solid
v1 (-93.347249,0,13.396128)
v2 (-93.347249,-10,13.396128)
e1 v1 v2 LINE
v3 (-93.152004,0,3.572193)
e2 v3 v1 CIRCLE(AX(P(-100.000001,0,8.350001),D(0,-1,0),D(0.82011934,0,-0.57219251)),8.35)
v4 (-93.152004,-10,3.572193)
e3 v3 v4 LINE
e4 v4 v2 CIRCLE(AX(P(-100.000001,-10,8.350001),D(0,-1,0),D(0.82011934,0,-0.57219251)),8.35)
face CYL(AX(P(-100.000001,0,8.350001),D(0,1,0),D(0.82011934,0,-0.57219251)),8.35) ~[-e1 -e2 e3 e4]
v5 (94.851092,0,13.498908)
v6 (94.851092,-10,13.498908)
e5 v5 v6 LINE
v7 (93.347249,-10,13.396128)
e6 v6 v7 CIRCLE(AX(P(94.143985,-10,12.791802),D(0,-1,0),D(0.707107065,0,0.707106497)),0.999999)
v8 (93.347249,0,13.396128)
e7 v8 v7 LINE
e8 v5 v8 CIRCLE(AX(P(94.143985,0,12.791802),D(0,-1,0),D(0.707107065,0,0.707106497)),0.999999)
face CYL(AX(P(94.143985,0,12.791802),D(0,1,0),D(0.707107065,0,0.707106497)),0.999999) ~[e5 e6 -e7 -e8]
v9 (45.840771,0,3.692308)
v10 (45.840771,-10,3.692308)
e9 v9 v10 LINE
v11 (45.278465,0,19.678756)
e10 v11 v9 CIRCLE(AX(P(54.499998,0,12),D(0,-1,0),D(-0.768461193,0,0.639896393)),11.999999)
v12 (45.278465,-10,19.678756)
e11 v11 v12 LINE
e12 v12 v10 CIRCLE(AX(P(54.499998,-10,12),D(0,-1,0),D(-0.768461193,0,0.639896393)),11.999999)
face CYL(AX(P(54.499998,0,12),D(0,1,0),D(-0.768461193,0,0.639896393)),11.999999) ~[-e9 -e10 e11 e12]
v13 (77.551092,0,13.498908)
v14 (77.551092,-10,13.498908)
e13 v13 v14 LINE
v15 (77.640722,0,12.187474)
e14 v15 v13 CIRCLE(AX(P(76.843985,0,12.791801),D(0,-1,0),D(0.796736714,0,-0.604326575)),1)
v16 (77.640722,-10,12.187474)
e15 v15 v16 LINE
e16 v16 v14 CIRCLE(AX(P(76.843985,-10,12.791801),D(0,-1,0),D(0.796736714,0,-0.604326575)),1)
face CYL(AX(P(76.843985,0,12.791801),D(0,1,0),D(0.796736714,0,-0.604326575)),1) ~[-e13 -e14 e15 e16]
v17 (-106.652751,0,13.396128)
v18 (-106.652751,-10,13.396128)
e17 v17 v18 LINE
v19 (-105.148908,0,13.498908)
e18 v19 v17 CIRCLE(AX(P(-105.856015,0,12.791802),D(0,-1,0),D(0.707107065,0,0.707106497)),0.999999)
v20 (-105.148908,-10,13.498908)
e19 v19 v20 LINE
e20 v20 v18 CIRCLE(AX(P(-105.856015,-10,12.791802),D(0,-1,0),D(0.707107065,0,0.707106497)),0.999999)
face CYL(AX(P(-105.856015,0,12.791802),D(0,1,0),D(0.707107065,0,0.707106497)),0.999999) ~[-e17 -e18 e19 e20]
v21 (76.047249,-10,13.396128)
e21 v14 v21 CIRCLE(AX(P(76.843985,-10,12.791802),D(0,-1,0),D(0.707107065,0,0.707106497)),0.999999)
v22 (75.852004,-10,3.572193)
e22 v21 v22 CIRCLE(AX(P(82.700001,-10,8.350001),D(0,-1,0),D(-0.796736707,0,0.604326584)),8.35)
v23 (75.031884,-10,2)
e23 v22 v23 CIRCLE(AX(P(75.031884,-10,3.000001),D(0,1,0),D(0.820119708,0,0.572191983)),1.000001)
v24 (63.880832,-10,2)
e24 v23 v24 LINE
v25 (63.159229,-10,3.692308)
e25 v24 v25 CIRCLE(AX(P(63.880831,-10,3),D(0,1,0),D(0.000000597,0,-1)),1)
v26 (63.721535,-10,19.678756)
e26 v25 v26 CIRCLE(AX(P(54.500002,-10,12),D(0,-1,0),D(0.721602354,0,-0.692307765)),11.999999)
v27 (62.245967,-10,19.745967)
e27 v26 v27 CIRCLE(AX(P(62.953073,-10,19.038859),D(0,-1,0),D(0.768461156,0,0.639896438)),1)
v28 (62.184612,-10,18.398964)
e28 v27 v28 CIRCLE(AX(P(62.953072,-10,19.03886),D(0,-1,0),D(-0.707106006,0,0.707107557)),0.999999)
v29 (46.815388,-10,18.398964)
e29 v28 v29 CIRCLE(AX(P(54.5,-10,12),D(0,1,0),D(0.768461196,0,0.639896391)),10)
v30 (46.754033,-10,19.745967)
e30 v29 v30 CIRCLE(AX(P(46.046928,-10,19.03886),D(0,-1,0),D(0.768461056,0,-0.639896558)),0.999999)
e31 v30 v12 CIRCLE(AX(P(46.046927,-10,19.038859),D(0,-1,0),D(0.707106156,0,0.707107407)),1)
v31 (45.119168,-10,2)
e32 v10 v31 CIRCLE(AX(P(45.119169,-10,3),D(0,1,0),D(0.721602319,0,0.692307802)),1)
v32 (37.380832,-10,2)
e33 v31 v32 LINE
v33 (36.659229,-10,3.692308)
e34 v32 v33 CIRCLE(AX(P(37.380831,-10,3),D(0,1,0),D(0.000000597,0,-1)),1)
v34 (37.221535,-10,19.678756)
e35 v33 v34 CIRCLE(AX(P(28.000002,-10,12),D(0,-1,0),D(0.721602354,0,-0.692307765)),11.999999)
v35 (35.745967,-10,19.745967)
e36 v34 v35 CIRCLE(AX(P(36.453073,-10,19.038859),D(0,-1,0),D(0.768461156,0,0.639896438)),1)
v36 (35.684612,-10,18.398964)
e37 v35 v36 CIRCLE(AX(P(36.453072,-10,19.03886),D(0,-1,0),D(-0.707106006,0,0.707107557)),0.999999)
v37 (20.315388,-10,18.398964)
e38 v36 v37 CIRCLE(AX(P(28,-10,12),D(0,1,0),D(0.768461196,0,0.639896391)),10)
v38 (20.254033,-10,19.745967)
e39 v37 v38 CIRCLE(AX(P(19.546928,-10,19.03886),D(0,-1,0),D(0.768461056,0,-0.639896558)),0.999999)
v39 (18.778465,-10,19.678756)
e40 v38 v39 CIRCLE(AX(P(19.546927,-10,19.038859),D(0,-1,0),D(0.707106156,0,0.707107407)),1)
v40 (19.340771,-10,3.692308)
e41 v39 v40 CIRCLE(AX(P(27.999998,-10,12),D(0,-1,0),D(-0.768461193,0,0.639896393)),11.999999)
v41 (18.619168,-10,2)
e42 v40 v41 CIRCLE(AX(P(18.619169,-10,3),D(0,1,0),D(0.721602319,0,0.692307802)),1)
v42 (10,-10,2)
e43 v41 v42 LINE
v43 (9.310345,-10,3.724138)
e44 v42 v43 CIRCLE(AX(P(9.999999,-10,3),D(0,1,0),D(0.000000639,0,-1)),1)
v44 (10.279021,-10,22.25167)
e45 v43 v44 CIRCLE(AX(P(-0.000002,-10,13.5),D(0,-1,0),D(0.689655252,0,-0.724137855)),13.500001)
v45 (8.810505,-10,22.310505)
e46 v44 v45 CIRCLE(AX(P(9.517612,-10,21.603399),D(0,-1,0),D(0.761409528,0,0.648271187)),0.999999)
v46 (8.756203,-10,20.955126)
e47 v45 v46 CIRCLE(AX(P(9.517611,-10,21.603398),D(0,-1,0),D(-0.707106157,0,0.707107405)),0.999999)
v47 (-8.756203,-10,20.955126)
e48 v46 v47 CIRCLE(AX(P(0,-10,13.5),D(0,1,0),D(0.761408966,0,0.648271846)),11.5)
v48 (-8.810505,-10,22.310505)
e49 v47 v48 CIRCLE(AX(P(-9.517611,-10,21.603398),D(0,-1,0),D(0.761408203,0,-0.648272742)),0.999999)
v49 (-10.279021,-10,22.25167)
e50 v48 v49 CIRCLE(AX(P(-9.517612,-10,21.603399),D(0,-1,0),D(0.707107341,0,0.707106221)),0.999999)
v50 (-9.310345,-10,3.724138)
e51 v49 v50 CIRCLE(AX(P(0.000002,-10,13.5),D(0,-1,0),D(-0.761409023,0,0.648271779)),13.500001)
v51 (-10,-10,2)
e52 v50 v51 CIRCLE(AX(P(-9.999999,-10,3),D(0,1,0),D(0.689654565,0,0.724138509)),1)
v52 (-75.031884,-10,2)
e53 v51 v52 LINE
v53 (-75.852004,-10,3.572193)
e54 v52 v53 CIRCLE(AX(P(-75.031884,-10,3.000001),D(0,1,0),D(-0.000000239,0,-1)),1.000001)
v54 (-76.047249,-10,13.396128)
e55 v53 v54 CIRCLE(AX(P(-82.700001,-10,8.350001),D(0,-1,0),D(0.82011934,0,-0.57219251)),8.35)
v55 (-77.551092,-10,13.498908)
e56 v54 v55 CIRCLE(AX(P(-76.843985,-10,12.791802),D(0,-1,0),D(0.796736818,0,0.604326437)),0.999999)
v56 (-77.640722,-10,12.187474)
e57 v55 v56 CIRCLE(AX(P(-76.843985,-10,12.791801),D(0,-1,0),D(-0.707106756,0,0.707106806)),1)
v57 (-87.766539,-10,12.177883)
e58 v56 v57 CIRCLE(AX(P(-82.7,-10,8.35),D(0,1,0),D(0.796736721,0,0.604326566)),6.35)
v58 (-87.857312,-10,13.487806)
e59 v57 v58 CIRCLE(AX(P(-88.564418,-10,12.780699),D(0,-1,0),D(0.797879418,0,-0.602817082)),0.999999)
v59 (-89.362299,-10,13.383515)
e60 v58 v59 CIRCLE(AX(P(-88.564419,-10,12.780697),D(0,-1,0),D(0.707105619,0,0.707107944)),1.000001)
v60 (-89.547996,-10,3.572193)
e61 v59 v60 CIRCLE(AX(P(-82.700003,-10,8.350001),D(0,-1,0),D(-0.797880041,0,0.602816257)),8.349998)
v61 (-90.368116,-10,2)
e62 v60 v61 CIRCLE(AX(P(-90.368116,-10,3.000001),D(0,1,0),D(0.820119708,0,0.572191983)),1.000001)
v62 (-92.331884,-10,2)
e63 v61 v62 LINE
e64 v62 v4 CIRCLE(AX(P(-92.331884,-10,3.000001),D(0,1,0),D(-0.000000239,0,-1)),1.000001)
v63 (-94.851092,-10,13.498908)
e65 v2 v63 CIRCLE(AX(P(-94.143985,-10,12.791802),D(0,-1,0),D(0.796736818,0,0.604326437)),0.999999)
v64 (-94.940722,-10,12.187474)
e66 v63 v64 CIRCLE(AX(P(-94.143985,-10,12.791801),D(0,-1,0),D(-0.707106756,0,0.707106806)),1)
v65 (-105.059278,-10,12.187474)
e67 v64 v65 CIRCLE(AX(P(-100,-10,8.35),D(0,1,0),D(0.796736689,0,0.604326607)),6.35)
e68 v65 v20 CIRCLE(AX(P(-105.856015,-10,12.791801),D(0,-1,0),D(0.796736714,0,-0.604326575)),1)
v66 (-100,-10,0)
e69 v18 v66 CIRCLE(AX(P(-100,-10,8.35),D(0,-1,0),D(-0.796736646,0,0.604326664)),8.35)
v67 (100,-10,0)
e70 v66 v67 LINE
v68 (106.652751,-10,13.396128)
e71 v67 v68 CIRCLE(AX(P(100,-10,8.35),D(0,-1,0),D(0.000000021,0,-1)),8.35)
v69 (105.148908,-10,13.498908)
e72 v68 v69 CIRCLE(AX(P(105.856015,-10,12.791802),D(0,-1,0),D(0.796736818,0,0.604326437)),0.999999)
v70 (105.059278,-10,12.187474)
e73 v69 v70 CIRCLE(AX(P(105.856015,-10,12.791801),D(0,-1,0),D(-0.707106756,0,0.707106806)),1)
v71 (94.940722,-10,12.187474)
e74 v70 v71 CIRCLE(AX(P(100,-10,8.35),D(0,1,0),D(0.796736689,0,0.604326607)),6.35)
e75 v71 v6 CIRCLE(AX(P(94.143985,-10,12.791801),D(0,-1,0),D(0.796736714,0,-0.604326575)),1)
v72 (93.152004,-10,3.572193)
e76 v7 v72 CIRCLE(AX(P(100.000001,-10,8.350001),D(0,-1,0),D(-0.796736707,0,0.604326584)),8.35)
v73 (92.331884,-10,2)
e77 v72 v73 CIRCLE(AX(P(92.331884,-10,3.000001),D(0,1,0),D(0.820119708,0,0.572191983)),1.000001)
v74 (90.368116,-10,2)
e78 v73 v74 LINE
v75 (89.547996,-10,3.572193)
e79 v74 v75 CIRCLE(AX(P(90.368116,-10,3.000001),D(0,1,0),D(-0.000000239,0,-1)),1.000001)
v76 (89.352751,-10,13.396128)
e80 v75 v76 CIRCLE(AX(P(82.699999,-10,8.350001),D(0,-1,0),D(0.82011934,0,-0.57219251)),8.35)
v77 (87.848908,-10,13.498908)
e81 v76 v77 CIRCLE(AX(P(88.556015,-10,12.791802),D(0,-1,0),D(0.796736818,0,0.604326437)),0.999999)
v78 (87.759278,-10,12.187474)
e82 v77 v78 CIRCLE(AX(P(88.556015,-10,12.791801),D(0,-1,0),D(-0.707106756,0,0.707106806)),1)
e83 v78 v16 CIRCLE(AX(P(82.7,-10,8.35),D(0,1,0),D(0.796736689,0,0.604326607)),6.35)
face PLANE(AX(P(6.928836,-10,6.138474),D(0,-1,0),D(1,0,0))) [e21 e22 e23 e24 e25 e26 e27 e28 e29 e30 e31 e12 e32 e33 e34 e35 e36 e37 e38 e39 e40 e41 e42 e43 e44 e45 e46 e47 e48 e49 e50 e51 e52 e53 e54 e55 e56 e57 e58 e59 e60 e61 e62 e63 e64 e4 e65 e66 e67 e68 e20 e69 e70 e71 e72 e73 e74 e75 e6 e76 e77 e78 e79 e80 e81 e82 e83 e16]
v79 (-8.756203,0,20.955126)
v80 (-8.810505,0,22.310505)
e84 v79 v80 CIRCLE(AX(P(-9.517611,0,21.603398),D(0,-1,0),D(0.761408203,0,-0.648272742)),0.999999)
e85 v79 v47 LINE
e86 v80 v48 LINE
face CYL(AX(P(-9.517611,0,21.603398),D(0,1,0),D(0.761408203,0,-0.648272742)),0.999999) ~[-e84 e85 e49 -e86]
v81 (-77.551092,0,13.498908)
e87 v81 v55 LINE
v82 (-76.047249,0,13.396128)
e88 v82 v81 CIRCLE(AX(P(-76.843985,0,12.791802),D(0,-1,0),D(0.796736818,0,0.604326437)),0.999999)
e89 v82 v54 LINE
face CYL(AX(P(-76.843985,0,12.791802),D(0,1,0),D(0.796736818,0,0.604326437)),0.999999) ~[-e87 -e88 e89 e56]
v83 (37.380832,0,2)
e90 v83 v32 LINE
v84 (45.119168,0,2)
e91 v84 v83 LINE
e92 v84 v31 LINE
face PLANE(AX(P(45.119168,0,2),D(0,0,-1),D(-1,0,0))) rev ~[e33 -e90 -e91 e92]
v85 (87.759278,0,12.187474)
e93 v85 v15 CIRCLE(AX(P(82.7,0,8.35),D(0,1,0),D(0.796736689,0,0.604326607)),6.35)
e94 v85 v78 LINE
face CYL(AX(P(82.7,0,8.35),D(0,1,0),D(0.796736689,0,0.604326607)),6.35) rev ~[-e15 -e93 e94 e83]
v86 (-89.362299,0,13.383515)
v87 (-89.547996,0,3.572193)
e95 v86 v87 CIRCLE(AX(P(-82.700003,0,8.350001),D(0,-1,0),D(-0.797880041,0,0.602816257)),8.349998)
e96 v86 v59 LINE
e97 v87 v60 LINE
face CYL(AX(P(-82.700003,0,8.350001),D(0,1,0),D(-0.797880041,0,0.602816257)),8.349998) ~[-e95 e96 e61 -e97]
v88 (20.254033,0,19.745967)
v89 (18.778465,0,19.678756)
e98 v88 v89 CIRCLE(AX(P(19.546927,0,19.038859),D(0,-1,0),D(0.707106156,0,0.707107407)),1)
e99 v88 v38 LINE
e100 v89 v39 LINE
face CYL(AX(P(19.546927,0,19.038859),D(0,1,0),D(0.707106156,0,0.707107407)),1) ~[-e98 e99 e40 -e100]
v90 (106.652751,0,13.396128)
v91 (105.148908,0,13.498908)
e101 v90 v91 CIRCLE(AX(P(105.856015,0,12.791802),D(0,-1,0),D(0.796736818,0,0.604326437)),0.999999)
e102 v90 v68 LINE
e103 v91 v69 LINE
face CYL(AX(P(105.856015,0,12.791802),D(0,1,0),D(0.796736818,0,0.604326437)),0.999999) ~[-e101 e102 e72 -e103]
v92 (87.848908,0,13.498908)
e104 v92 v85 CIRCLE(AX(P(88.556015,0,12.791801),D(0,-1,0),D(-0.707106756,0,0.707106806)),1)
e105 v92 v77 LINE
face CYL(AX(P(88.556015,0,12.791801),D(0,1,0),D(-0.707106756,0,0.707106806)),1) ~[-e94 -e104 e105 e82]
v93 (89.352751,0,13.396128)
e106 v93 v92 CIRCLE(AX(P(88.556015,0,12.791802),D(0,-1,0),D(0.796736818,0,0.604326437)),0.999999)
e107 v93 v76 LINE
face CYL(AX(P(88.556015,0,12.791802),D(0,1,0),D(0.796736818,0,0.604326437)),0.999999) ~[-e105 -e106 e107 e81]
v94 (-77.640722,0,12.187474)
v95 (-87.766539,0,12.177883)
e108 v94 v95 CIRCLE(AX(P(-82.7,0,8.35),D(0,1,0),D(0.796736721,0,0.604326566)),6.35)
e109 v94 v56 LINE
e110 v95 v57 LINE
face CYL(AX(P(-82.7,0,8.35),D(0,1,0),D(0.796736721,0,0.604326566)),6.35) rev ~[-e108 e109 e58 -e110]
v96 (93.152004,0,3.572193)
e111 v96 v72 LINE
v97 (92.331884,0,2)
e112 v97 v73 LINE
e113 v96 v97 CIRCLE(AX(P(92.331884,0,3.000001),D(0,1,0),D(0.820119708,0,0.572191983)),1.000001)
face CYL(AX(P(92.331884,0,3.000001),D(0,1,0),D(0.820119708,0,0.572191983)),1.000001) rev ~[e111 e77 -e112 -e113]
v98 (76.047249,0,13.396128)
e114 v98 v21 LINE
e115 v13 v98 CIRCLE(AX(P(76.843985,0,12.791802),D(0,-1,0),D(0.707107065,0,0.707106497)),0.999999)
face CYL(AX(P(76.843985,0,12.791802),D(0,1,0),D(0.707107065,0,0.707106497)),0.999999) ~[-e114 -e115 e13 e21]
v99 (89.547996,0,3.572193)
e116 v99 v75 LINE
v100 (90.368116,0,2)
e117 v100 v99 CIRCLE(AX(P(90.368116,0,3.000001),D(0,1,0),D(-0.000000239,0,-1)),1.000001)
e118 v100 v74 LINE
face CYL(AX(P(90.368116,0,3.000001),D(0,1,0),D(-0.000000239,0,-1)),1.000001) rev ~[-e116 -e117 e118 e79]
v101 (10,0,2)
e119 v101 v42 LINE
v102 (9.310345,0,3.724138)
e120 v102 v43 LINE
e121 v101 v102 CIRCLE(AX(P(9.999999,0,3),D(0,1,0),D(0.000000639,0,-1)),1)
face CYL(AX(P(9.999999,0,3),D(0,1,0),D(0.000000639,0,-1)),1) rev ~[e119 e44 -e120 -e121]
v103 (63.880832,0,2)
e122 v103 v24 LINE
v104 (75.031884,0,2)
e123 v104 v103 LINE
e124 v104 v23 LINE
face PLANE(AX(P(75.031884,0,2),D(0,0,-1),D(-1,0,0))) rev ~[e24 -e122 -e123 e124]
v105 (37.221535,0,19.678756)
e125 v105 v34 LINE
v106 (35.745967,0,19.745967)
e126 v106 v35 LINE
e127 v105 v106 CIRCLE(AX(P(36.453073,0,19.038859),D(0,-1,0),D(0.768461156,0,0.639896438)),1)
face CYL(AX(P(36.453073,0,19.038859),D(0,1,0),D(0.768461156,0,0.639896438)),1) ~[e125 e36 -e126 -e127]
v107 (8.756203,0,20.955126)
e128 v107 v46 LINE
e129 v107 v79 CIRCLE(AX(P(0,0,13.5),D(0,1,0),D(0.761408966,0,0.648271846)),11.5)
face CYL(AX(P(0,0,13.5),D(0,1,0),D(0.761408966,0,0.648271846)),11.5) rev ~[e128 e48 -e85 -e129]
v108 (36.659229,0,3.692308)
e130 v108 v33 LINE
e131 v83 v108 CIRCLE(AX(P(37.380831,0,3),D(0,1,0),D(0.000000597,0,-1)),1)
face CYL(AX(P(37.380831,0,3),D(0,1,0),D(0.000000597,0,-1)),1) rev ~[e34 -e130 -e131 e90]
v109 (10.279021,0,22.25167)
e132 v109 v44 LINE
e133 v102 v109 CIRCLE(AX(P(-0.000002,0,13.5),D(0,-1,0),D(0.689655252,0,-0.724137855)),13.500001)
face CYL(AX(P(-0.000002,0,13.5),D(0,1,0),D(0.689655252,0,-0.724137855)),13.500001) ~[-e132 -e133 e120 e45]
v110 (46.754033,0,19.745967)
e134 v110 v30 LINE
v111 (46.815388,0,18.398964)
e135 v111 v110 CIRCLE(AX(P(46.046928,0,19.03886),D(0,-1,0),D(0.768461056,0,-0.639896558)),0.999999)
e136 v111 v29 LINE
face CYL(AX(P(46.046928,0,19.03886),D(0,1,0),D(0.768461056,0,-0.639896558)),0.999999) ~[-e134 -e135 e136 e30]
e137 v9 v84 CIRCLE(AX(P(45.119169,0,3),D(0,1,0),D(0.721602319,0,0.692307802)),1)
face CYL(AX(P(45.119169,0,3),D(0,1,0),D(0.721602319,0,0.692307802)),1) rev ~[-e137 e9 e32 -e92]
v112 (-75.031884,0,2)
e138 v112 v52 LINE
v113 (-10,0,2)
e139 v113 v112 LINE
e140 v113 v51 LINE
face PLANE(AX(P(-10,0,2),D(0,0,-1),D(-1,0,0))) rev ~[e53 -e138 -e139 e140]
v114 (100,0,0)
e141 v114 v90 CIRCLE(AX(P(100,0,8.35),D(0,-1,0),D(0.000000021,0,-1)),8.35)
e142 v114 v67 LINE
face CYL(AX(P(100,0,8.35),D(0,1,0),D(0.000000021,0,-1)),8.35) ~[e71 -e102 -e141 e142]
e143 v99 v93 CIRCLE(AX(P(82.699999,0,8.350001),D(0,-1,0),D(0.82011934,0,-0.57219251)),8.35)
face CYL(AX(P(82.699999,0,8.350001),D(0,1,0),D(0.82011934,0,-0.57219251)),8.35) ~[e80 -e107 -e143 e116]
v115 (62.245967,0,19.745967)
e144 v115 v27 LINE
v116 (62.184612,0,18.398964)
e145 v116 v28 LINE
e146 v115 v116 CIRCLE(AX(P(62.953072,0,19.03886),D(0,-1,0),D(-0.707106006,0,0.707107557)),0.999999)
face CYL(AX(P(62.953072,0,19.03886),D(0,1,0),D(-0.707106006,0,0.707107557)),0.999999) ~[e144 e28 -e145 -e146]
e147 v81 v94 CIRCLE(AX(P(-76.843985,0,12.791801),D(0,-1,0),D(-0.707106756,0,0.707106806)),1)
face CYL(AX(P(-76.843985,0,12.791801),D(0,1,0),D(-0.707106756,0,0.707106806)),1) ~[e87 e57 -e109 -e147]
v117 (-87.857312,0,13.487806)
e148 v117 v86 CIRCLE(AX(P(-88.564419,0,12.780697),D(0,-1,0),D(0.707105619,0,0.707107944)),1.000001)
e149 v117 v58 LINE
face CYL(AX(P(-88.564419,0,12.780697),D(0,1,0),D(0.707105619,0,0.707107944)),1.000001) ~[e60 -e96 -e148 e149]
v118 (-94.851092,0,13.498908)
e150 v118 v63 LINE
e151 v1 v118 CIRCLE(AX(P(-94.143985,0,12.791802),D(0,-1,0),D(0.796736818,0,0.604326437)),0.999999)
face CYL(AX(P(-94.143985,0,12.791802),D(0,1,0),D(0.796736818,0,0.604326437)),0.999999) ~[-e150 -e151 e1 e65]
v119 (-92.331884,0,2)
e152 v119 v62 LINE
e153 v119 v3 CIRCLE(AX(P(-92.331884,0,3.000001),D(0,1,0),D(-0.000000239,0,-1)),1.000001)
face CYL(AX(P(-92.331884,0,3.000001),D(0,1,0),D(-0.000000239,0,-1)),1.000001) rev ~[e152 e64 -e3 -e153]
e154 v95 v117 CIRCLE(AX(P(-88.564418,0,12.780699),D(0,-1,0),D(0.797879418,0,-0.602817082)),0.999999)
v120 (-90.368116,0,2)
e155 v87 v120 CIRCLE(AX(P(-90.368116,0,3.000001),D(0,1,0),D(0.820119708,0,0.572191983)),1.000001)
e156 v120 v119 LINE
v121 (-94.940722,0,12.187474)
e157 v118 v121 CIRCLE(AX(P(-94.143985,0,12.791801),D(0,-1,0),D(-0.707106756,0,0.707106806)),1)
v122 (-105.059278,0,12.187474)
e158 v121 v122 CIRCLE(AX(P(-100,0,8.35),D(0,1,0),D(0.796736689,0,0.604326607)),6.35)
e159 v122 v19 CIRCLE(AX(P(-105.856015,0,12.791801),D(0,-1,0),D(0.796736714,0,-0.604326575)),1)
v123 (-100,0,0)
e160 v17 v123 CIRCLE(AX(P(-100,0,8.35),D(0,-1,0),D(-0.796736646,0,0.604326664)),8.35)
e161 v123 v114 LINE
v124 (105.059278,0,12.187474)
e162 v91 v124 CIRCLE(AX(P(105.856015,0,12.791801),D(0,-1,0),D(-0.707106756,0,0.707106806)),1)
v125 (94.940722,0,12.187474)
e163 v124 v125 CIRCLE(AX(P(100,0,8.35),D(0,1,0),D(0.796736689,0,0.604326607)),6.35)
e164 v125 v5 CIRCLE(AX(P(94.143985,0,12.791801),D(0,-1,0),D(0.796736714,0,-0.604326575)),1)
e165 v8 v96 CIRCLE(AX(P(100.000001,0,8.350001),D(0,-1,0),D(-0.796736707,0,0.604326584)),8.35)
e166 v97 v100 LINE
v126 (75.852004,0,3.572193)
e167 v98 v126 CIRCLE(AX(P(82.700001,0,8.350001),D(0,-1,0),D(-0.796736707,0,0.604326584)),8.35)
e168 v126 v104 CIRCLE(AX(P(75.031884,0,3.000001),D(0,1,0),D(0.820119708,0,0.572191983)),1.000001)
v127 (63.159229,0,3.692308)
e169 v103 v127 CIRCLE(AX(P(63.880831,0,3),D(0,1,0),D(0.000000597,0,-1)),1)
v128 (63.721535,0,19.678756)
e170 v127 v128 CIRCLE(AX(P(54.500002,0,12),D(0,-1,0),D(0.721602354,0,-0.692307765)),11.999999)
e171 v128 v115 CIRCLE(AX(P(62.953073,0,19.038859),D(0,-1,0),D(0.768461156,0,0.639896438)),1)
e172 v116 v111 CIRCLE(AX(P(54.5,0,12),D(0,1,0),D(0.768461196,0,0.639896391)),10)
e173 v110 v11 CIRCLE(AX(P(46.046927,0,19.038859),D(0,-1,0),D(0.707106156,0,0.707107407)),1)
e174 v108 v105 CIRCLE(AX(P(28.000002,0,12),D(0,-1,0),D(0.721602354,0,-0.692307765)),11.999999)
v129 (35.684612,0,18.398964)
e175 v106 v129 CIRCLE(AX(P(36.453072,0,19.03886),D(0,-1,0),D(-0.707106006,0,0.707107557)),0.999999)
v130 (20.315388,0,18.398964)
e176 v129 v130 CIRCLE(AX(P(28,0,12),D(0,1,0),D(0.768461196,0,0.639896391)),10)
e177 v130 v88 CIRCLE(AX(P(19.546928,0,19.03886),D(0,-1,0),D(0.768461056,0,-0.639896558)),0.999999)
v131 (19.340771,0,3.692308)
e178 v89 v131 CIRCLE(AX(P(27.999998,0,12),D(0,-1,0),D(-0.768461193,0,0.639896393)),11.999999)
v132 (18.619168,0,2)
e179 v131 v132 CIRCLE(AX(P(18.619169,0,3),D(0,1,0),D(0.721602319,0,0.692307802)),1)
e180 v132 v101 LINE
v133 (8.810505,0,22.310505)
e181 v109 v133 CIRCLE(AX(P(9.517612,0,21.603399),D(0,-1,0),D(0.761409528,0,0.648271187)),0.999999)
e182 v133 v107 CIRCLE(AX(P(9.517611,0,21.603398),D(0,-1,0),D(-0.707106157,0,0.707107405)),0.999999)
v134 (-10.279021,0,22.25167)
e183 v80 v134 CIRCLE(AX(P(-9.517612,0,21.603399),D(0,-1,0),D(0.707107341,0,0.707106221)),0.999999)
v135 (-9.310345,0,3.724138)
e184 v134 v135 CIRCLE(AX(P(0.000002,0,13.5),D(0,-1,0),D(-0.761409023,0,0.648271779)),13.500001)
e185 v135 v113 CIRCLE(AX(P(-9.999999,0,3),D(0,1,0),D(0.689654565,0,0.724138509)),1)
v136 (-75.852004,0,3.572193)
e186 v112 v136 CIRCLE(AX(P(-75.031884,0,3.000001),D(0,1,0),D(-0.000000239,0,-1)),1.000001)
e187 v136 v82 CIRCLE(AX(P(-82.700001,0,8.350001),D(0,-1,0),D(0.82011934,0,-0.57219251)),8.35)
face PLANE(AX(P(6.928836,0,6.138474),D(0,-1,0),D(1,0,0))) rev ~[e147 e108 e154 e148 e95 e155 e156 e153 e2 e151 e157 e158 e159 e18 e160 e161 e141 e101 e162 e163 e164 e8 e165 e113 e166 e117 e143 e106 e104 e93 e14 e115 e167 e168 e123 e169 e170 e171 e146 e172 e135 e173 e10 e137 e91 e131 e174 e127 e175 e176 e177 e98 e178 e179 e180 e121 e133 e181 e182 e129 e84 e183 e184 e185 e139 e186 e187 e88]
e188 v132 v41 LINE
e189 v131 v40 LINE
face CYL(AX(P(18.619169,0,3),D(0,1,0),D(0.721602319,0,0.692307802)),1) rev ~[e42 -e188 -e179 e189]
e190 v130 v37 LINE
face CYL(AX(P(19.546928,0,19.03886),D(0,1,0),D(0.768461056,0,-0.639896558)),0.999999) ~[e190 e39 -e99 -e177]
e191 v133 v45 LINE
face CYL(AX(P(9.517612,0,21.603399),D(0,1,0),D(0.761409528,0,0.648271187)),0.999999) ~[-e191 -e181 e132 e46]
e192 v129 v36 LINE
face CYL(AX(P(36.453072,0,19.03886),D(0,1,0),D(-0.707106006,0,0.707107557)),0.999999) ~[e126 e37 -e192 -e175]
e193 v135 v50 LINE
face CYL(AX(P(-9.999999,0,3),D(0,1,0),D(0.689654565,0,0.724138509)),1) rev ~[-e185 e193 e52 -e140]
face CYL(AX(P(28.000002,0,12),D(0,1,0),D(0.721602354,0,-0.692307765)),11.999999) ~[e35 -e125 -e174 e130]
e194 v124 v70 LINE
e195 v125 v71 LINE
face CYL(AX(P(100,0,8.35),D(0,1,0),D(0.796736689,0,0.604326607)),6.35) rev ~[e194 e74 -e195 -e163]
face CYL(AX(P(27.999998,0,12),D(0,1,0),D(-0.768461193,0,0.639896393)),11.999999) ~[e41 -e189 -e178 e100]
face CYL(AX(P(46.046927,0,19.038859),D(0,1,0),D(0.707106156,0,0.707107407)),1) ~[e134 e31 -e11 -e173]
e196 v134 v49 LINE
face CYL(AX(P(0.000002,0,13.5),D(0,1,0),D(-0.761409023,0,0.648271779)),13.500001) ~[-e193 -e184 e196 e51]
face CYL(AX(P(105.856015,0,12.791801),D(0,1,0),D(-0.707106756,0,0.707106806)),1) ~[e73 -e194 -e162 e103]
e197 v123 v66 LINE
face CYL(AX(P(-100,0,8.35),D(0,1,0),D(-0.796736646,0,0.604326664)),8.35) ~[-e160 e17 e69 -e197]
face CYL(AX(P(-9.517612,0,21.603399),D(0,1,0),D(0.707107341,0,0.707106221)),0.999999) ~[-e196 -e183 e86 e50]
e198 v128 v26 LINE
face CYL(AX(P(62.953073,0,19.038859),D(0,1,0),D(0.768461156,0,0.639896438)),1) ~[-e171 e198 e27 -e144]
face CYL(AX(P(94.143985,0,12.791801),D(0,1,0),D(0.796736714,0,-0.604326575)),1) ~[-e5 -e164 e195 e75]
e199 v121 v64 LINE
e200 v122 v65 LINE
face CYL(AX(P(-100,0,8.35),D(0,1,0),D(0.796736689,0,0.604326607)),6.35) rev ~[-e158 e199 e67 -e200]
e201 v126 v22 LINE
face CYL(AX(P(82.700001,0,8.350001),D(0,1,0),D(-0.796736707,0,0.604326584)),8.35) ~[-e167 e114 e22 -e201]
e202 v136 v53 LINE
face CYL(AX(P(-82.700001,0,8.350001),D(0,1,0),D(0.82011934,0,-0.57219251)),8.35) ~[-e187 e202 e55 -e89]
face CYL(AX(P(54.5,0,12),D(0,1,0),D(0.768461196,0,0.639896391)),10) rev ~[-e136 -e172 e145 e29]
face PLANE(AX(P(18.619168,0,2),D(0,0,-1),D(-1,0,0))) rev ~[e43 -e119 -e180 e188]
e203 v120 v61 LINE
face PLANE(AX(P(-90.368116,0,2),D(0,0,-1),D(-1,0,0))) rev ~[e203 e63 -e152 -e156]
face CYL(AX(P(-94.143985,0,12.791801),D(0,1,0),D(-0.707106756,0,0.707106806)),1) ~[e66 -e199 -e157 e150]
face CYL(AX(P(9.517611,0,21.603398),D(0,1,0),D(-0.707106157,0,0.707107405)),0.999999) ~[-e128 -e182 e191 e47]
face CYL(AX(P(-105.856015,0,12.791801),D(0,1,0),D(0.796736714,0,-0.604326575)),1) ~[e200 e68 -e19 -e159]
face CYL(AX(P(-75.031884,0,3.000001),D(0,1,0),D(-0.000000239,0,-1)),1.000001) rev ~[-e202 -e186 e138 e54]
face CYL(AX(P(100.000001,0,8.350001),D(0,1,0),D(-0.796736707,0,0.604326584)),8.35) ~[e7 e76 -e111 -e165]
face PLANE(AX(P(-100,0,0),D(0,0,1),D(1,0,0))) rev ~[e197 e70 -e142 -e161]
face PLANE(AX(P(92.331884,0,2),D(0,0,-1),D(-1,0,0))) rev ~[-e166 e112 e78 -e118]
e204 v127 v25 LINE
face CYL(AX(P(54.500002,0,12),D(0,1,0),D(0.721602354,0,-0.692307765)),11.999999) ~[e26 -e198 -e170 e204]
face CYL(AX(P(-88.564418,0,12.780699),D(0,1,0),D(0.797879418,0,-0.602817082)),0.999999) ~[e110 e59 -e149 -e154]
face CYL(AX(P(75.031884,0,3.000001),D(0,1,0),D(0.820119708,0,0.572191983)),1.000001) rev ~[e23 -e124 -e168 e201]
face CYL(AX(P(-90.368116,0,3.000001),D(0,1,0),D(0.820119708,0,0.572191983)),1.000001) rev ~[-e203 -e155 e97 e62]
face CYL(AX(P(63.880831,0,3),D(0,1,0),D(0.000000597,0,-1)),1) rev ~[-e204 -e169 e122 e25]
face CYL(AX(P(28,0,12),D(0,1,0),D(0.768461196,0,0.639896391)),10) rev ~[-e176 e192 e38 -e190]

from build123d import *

# Parameters (mm, degrees)
F1_DEPTH = 10


with BuildPart() as f1:
    # F0 (on Front) → F1 (new body)
    with BuildSketch(Plane.XZ):
        with BuildLine():
            Line((-100, 0), (0, 0))
            Line((0, 0), (100, 0))
            ThreePointArc((100, 0), (107.478558, 4.636017), (106.652751, 13.396128))
            ThreePointArc((106.652751, 13.396128), (105.9242, 13.789474), (105.148908, 13.498908))
            ThreePointArc((105.148908, 13.498908), (104.858342, 12.859987), (105.059278, 12.187474))
            ThreePointArc((105.059278, 12.187474), (100, 2), (94.940722, 12.187474))
            ThreePointArc((94.940722, 12.187474), (95.141658, 12.859987), (94.851092, 13.498908))
            ThreePointArc((94.851092, 13.498908), (94.0758, 13.789474), (93.347249, 13.396128))
            ThreePointArc((93.347249, 13.396128), (91.651649, 8.515919), (93.152004, 3.572193))
            ThreePointArc((93.152004, 3.572193), (93.218505, 2.537503), (92.331884, 2))
            Line((92.331884, 2), (90.368116, 2))
            ThreePointArc((90.368116, 2), (89.481495, 2.537503), (89.547996, 3.572193))
            ThreePointArc((89.547996, 3.572193), (91.048351, 8.515919), (89.352751, 13.396128))
            ThreePointArc((89.352751, 13.396128), (88.6242, 13.789474), (87.848908, 13.498908))
            ThreePointArc((87.848908, 13.498908), (87.558342, 12.859987), (87.759278, 12.187474))
            ThreePointArc((87.759278, 12.187474), (82.7, 2), (77.640722, 12.187474))
            ThreePointArc((77.640722, 12.187474), (77.841658, 12.859987), (77.551092, 13.498908))
            ThreePointArc((77.551092, 13.498908), (76.7758, 13.789474), (76.047249, 13.396128))
            ThreePointArc((76.047249, 13.396128), (74.351649, 8.515919), (75.852004, 3.572193))
            ThreePointArc((75.852004, 3.572193), (75.918505, 2.537503), (75.031884, 2))
            Line((75.031884, 2), (63.880832, 2))
            ThreePointArc((63.880832, 2), (62.960965, 2.607768), (63.159229, 3.692308))
            ThreePointArc((63.159229, 3.692308), (66.492584, 11.578174), (63.721535, 19.678756))
            ThreePointArc((63.721535, 19.678756), (62.998575, 20.037824), (62.245967, 19.745967))
            ThreePointArc((62.245967, 19.745967), (61.954109, 19.084362), (62.184612, 18.398964))
            ThreePointArc((62.184612, 18.398964), (54.5, 2), (46.815388, 18.398964))
            ThreePointArc((46.815388, 18.398964), (47.045891, 19.084362), (46.754033, 19.745967))
            ThreePointArc((46.754033, 19.745967), (46.001425, 20.037824), (45.278465, 19.678756))
            ThreePointArc((45.278465, 19.678756), (42.507416, 11.578174), (45.840771, 3.692308))
            ThreePointArc((45.840771, 3.692308), (46.039035, 2.607768), (45.119168, 2))
            Line((45.119168, 2), (37.380832, 2))
            ThreePointArc((37.380832, 2), (36.460965, 2.607768), (36.659229, 3.692308))
            ThreePointArc((36.659229, 3.692308), (39.992584, 11.578174), (37.221535, 19.678756))
            ThreePointArc((37.221535, 19.678756), (36.498575, 20.037824), (35.745967, 19.745967))
            ThreePointArc((35.745967, 19.745967), (35.454109, 19.084362), (35.684612, 18.398964))
            ThreePointArc((35.684612, 18.398964), (28, 2), (20.315388, 18.398964))
            ThreePointArc((20.315388, 18.398964), (20.545891, 19.084362), (20.254033, 19.745967))
            ThreePointArc((20.254033, 19.745967), (19.501425, 20.037824), (18.778465, 19.678756))
            ThreePointArc((18.778465, 19.678756), (16.007416, 11.578174), (19.340771, 3.692308))
            ThreePointArc((19.340771, 3.692308), (19.539035, 2.607768), (18.619168, 2))
            Line((18.619168, 2), (10, 2))
            ThreePointArc((10, 2), (9.071523, 2.628609), (9.310345, 3.724138))
            ThreePointArc((9.310345, 3.724138), (13.481586, 12.795141), (10.279021, 22.25167))
            ThreePointArc((10.279021, 22.25167), (9.557644, 22.602597), (8.810505, 22.310505))
            ThreePointArc((8.810505, 22.310505), (8.518413, 21.64343), (8.756203, 20.955126))
            ThreePointArc((8.756203, 20.955126), (0, 2), (-8.756203, 20.955126))
            ThreePointArc((-8.756203, 20.955126), (-8.518413, 21.64343), (-8.810505, 22.310505))
            ThreePointArc((-8.810505, 22.310505), (-9.557644, 22.602597), (-10.279021, 22.25167))
            ThreePointArc((-10.279021, 22.25167), (-13.481586, 12.795141), (-9.310345, 3.724138))
            ThreePointArc((-9.310345, 3.724138), (-9.071523, 2.628609), (-10, 2))
            Line((-10, 2), (-75.031884, 2))
            ThreePointArc((-75.031884, 2), (-75.918505, 2.537503), (-75.852004, 3.572193))
            ThreePointArc((-75.852004, 3.572193), (-74.351649, 8.515919), (-76.047249, 13.396128))
            ThreePointArc((-76.047249, 13.396128), (-76.7758, 13.789474), (-77.551092, 13.498908))
            ThreePointArc((-77.551092, 13.498908), (-77.841658, 12.859987), (-77.640722, 12.187474))
            ThreePointArc((-77.640722, 12.187474), (-82.693985, 2.000003), (-87.766539, 12.177883))
            ThreePointArc((-87.766539, 12.177883), (-87.566811, 12.84983), (-87.857312, 13.487806))
            ThreePointArc((-87.857312, 13.487806), (-88.63355, 13.778306), (-89.362299, 13.383515))
            ThreePointArc((-89.362299, 13.383515), (-91.048505, 8.508011), (-89.547996, 3.572193))
            ThreePointArc((-89.547996, 3.572193), (-89.481495, 2.537503), (-90.368116, 2))
            Line((-90.368116, 2), (-92.331884, 2))
            ThreePointArc((-92.331884, 2), (-93.218505, 2.537503), (-93.152004, 3.572193))
            ThreePointArc((-93.152004, 3.572193), (-91.651649, 8.515919), (-93.347249, 13.396128))
            ThreePointArc((-93.347249, 13.396128), (-94.0758, 13.789474), (-94.851092, 13.498908))
            ThreePointArc((-94.851092, 13.498908), (-95.141658, 12.859987), (-94.940722, 12.187474))
            ThreePointArc((-94.940722, 12.187474), (-100, 2), (-105.059278, 12.187474))
            ThreePointArc((-105.059278, 12.187474), (-104.858342, 12.859987), (-105.148908, 13.498908))
            ThreePointArc((-105.148908, 13.498908), (-105.9242, 13.789474), (-106.652751, 13.396128))
            ThreePointArc((-106.652751, 13.396128), (-107.478558, 4.636017), (-100, 0))
        make_face()
    extrude(amount=F1_DEPTH)


solid = f1.part
